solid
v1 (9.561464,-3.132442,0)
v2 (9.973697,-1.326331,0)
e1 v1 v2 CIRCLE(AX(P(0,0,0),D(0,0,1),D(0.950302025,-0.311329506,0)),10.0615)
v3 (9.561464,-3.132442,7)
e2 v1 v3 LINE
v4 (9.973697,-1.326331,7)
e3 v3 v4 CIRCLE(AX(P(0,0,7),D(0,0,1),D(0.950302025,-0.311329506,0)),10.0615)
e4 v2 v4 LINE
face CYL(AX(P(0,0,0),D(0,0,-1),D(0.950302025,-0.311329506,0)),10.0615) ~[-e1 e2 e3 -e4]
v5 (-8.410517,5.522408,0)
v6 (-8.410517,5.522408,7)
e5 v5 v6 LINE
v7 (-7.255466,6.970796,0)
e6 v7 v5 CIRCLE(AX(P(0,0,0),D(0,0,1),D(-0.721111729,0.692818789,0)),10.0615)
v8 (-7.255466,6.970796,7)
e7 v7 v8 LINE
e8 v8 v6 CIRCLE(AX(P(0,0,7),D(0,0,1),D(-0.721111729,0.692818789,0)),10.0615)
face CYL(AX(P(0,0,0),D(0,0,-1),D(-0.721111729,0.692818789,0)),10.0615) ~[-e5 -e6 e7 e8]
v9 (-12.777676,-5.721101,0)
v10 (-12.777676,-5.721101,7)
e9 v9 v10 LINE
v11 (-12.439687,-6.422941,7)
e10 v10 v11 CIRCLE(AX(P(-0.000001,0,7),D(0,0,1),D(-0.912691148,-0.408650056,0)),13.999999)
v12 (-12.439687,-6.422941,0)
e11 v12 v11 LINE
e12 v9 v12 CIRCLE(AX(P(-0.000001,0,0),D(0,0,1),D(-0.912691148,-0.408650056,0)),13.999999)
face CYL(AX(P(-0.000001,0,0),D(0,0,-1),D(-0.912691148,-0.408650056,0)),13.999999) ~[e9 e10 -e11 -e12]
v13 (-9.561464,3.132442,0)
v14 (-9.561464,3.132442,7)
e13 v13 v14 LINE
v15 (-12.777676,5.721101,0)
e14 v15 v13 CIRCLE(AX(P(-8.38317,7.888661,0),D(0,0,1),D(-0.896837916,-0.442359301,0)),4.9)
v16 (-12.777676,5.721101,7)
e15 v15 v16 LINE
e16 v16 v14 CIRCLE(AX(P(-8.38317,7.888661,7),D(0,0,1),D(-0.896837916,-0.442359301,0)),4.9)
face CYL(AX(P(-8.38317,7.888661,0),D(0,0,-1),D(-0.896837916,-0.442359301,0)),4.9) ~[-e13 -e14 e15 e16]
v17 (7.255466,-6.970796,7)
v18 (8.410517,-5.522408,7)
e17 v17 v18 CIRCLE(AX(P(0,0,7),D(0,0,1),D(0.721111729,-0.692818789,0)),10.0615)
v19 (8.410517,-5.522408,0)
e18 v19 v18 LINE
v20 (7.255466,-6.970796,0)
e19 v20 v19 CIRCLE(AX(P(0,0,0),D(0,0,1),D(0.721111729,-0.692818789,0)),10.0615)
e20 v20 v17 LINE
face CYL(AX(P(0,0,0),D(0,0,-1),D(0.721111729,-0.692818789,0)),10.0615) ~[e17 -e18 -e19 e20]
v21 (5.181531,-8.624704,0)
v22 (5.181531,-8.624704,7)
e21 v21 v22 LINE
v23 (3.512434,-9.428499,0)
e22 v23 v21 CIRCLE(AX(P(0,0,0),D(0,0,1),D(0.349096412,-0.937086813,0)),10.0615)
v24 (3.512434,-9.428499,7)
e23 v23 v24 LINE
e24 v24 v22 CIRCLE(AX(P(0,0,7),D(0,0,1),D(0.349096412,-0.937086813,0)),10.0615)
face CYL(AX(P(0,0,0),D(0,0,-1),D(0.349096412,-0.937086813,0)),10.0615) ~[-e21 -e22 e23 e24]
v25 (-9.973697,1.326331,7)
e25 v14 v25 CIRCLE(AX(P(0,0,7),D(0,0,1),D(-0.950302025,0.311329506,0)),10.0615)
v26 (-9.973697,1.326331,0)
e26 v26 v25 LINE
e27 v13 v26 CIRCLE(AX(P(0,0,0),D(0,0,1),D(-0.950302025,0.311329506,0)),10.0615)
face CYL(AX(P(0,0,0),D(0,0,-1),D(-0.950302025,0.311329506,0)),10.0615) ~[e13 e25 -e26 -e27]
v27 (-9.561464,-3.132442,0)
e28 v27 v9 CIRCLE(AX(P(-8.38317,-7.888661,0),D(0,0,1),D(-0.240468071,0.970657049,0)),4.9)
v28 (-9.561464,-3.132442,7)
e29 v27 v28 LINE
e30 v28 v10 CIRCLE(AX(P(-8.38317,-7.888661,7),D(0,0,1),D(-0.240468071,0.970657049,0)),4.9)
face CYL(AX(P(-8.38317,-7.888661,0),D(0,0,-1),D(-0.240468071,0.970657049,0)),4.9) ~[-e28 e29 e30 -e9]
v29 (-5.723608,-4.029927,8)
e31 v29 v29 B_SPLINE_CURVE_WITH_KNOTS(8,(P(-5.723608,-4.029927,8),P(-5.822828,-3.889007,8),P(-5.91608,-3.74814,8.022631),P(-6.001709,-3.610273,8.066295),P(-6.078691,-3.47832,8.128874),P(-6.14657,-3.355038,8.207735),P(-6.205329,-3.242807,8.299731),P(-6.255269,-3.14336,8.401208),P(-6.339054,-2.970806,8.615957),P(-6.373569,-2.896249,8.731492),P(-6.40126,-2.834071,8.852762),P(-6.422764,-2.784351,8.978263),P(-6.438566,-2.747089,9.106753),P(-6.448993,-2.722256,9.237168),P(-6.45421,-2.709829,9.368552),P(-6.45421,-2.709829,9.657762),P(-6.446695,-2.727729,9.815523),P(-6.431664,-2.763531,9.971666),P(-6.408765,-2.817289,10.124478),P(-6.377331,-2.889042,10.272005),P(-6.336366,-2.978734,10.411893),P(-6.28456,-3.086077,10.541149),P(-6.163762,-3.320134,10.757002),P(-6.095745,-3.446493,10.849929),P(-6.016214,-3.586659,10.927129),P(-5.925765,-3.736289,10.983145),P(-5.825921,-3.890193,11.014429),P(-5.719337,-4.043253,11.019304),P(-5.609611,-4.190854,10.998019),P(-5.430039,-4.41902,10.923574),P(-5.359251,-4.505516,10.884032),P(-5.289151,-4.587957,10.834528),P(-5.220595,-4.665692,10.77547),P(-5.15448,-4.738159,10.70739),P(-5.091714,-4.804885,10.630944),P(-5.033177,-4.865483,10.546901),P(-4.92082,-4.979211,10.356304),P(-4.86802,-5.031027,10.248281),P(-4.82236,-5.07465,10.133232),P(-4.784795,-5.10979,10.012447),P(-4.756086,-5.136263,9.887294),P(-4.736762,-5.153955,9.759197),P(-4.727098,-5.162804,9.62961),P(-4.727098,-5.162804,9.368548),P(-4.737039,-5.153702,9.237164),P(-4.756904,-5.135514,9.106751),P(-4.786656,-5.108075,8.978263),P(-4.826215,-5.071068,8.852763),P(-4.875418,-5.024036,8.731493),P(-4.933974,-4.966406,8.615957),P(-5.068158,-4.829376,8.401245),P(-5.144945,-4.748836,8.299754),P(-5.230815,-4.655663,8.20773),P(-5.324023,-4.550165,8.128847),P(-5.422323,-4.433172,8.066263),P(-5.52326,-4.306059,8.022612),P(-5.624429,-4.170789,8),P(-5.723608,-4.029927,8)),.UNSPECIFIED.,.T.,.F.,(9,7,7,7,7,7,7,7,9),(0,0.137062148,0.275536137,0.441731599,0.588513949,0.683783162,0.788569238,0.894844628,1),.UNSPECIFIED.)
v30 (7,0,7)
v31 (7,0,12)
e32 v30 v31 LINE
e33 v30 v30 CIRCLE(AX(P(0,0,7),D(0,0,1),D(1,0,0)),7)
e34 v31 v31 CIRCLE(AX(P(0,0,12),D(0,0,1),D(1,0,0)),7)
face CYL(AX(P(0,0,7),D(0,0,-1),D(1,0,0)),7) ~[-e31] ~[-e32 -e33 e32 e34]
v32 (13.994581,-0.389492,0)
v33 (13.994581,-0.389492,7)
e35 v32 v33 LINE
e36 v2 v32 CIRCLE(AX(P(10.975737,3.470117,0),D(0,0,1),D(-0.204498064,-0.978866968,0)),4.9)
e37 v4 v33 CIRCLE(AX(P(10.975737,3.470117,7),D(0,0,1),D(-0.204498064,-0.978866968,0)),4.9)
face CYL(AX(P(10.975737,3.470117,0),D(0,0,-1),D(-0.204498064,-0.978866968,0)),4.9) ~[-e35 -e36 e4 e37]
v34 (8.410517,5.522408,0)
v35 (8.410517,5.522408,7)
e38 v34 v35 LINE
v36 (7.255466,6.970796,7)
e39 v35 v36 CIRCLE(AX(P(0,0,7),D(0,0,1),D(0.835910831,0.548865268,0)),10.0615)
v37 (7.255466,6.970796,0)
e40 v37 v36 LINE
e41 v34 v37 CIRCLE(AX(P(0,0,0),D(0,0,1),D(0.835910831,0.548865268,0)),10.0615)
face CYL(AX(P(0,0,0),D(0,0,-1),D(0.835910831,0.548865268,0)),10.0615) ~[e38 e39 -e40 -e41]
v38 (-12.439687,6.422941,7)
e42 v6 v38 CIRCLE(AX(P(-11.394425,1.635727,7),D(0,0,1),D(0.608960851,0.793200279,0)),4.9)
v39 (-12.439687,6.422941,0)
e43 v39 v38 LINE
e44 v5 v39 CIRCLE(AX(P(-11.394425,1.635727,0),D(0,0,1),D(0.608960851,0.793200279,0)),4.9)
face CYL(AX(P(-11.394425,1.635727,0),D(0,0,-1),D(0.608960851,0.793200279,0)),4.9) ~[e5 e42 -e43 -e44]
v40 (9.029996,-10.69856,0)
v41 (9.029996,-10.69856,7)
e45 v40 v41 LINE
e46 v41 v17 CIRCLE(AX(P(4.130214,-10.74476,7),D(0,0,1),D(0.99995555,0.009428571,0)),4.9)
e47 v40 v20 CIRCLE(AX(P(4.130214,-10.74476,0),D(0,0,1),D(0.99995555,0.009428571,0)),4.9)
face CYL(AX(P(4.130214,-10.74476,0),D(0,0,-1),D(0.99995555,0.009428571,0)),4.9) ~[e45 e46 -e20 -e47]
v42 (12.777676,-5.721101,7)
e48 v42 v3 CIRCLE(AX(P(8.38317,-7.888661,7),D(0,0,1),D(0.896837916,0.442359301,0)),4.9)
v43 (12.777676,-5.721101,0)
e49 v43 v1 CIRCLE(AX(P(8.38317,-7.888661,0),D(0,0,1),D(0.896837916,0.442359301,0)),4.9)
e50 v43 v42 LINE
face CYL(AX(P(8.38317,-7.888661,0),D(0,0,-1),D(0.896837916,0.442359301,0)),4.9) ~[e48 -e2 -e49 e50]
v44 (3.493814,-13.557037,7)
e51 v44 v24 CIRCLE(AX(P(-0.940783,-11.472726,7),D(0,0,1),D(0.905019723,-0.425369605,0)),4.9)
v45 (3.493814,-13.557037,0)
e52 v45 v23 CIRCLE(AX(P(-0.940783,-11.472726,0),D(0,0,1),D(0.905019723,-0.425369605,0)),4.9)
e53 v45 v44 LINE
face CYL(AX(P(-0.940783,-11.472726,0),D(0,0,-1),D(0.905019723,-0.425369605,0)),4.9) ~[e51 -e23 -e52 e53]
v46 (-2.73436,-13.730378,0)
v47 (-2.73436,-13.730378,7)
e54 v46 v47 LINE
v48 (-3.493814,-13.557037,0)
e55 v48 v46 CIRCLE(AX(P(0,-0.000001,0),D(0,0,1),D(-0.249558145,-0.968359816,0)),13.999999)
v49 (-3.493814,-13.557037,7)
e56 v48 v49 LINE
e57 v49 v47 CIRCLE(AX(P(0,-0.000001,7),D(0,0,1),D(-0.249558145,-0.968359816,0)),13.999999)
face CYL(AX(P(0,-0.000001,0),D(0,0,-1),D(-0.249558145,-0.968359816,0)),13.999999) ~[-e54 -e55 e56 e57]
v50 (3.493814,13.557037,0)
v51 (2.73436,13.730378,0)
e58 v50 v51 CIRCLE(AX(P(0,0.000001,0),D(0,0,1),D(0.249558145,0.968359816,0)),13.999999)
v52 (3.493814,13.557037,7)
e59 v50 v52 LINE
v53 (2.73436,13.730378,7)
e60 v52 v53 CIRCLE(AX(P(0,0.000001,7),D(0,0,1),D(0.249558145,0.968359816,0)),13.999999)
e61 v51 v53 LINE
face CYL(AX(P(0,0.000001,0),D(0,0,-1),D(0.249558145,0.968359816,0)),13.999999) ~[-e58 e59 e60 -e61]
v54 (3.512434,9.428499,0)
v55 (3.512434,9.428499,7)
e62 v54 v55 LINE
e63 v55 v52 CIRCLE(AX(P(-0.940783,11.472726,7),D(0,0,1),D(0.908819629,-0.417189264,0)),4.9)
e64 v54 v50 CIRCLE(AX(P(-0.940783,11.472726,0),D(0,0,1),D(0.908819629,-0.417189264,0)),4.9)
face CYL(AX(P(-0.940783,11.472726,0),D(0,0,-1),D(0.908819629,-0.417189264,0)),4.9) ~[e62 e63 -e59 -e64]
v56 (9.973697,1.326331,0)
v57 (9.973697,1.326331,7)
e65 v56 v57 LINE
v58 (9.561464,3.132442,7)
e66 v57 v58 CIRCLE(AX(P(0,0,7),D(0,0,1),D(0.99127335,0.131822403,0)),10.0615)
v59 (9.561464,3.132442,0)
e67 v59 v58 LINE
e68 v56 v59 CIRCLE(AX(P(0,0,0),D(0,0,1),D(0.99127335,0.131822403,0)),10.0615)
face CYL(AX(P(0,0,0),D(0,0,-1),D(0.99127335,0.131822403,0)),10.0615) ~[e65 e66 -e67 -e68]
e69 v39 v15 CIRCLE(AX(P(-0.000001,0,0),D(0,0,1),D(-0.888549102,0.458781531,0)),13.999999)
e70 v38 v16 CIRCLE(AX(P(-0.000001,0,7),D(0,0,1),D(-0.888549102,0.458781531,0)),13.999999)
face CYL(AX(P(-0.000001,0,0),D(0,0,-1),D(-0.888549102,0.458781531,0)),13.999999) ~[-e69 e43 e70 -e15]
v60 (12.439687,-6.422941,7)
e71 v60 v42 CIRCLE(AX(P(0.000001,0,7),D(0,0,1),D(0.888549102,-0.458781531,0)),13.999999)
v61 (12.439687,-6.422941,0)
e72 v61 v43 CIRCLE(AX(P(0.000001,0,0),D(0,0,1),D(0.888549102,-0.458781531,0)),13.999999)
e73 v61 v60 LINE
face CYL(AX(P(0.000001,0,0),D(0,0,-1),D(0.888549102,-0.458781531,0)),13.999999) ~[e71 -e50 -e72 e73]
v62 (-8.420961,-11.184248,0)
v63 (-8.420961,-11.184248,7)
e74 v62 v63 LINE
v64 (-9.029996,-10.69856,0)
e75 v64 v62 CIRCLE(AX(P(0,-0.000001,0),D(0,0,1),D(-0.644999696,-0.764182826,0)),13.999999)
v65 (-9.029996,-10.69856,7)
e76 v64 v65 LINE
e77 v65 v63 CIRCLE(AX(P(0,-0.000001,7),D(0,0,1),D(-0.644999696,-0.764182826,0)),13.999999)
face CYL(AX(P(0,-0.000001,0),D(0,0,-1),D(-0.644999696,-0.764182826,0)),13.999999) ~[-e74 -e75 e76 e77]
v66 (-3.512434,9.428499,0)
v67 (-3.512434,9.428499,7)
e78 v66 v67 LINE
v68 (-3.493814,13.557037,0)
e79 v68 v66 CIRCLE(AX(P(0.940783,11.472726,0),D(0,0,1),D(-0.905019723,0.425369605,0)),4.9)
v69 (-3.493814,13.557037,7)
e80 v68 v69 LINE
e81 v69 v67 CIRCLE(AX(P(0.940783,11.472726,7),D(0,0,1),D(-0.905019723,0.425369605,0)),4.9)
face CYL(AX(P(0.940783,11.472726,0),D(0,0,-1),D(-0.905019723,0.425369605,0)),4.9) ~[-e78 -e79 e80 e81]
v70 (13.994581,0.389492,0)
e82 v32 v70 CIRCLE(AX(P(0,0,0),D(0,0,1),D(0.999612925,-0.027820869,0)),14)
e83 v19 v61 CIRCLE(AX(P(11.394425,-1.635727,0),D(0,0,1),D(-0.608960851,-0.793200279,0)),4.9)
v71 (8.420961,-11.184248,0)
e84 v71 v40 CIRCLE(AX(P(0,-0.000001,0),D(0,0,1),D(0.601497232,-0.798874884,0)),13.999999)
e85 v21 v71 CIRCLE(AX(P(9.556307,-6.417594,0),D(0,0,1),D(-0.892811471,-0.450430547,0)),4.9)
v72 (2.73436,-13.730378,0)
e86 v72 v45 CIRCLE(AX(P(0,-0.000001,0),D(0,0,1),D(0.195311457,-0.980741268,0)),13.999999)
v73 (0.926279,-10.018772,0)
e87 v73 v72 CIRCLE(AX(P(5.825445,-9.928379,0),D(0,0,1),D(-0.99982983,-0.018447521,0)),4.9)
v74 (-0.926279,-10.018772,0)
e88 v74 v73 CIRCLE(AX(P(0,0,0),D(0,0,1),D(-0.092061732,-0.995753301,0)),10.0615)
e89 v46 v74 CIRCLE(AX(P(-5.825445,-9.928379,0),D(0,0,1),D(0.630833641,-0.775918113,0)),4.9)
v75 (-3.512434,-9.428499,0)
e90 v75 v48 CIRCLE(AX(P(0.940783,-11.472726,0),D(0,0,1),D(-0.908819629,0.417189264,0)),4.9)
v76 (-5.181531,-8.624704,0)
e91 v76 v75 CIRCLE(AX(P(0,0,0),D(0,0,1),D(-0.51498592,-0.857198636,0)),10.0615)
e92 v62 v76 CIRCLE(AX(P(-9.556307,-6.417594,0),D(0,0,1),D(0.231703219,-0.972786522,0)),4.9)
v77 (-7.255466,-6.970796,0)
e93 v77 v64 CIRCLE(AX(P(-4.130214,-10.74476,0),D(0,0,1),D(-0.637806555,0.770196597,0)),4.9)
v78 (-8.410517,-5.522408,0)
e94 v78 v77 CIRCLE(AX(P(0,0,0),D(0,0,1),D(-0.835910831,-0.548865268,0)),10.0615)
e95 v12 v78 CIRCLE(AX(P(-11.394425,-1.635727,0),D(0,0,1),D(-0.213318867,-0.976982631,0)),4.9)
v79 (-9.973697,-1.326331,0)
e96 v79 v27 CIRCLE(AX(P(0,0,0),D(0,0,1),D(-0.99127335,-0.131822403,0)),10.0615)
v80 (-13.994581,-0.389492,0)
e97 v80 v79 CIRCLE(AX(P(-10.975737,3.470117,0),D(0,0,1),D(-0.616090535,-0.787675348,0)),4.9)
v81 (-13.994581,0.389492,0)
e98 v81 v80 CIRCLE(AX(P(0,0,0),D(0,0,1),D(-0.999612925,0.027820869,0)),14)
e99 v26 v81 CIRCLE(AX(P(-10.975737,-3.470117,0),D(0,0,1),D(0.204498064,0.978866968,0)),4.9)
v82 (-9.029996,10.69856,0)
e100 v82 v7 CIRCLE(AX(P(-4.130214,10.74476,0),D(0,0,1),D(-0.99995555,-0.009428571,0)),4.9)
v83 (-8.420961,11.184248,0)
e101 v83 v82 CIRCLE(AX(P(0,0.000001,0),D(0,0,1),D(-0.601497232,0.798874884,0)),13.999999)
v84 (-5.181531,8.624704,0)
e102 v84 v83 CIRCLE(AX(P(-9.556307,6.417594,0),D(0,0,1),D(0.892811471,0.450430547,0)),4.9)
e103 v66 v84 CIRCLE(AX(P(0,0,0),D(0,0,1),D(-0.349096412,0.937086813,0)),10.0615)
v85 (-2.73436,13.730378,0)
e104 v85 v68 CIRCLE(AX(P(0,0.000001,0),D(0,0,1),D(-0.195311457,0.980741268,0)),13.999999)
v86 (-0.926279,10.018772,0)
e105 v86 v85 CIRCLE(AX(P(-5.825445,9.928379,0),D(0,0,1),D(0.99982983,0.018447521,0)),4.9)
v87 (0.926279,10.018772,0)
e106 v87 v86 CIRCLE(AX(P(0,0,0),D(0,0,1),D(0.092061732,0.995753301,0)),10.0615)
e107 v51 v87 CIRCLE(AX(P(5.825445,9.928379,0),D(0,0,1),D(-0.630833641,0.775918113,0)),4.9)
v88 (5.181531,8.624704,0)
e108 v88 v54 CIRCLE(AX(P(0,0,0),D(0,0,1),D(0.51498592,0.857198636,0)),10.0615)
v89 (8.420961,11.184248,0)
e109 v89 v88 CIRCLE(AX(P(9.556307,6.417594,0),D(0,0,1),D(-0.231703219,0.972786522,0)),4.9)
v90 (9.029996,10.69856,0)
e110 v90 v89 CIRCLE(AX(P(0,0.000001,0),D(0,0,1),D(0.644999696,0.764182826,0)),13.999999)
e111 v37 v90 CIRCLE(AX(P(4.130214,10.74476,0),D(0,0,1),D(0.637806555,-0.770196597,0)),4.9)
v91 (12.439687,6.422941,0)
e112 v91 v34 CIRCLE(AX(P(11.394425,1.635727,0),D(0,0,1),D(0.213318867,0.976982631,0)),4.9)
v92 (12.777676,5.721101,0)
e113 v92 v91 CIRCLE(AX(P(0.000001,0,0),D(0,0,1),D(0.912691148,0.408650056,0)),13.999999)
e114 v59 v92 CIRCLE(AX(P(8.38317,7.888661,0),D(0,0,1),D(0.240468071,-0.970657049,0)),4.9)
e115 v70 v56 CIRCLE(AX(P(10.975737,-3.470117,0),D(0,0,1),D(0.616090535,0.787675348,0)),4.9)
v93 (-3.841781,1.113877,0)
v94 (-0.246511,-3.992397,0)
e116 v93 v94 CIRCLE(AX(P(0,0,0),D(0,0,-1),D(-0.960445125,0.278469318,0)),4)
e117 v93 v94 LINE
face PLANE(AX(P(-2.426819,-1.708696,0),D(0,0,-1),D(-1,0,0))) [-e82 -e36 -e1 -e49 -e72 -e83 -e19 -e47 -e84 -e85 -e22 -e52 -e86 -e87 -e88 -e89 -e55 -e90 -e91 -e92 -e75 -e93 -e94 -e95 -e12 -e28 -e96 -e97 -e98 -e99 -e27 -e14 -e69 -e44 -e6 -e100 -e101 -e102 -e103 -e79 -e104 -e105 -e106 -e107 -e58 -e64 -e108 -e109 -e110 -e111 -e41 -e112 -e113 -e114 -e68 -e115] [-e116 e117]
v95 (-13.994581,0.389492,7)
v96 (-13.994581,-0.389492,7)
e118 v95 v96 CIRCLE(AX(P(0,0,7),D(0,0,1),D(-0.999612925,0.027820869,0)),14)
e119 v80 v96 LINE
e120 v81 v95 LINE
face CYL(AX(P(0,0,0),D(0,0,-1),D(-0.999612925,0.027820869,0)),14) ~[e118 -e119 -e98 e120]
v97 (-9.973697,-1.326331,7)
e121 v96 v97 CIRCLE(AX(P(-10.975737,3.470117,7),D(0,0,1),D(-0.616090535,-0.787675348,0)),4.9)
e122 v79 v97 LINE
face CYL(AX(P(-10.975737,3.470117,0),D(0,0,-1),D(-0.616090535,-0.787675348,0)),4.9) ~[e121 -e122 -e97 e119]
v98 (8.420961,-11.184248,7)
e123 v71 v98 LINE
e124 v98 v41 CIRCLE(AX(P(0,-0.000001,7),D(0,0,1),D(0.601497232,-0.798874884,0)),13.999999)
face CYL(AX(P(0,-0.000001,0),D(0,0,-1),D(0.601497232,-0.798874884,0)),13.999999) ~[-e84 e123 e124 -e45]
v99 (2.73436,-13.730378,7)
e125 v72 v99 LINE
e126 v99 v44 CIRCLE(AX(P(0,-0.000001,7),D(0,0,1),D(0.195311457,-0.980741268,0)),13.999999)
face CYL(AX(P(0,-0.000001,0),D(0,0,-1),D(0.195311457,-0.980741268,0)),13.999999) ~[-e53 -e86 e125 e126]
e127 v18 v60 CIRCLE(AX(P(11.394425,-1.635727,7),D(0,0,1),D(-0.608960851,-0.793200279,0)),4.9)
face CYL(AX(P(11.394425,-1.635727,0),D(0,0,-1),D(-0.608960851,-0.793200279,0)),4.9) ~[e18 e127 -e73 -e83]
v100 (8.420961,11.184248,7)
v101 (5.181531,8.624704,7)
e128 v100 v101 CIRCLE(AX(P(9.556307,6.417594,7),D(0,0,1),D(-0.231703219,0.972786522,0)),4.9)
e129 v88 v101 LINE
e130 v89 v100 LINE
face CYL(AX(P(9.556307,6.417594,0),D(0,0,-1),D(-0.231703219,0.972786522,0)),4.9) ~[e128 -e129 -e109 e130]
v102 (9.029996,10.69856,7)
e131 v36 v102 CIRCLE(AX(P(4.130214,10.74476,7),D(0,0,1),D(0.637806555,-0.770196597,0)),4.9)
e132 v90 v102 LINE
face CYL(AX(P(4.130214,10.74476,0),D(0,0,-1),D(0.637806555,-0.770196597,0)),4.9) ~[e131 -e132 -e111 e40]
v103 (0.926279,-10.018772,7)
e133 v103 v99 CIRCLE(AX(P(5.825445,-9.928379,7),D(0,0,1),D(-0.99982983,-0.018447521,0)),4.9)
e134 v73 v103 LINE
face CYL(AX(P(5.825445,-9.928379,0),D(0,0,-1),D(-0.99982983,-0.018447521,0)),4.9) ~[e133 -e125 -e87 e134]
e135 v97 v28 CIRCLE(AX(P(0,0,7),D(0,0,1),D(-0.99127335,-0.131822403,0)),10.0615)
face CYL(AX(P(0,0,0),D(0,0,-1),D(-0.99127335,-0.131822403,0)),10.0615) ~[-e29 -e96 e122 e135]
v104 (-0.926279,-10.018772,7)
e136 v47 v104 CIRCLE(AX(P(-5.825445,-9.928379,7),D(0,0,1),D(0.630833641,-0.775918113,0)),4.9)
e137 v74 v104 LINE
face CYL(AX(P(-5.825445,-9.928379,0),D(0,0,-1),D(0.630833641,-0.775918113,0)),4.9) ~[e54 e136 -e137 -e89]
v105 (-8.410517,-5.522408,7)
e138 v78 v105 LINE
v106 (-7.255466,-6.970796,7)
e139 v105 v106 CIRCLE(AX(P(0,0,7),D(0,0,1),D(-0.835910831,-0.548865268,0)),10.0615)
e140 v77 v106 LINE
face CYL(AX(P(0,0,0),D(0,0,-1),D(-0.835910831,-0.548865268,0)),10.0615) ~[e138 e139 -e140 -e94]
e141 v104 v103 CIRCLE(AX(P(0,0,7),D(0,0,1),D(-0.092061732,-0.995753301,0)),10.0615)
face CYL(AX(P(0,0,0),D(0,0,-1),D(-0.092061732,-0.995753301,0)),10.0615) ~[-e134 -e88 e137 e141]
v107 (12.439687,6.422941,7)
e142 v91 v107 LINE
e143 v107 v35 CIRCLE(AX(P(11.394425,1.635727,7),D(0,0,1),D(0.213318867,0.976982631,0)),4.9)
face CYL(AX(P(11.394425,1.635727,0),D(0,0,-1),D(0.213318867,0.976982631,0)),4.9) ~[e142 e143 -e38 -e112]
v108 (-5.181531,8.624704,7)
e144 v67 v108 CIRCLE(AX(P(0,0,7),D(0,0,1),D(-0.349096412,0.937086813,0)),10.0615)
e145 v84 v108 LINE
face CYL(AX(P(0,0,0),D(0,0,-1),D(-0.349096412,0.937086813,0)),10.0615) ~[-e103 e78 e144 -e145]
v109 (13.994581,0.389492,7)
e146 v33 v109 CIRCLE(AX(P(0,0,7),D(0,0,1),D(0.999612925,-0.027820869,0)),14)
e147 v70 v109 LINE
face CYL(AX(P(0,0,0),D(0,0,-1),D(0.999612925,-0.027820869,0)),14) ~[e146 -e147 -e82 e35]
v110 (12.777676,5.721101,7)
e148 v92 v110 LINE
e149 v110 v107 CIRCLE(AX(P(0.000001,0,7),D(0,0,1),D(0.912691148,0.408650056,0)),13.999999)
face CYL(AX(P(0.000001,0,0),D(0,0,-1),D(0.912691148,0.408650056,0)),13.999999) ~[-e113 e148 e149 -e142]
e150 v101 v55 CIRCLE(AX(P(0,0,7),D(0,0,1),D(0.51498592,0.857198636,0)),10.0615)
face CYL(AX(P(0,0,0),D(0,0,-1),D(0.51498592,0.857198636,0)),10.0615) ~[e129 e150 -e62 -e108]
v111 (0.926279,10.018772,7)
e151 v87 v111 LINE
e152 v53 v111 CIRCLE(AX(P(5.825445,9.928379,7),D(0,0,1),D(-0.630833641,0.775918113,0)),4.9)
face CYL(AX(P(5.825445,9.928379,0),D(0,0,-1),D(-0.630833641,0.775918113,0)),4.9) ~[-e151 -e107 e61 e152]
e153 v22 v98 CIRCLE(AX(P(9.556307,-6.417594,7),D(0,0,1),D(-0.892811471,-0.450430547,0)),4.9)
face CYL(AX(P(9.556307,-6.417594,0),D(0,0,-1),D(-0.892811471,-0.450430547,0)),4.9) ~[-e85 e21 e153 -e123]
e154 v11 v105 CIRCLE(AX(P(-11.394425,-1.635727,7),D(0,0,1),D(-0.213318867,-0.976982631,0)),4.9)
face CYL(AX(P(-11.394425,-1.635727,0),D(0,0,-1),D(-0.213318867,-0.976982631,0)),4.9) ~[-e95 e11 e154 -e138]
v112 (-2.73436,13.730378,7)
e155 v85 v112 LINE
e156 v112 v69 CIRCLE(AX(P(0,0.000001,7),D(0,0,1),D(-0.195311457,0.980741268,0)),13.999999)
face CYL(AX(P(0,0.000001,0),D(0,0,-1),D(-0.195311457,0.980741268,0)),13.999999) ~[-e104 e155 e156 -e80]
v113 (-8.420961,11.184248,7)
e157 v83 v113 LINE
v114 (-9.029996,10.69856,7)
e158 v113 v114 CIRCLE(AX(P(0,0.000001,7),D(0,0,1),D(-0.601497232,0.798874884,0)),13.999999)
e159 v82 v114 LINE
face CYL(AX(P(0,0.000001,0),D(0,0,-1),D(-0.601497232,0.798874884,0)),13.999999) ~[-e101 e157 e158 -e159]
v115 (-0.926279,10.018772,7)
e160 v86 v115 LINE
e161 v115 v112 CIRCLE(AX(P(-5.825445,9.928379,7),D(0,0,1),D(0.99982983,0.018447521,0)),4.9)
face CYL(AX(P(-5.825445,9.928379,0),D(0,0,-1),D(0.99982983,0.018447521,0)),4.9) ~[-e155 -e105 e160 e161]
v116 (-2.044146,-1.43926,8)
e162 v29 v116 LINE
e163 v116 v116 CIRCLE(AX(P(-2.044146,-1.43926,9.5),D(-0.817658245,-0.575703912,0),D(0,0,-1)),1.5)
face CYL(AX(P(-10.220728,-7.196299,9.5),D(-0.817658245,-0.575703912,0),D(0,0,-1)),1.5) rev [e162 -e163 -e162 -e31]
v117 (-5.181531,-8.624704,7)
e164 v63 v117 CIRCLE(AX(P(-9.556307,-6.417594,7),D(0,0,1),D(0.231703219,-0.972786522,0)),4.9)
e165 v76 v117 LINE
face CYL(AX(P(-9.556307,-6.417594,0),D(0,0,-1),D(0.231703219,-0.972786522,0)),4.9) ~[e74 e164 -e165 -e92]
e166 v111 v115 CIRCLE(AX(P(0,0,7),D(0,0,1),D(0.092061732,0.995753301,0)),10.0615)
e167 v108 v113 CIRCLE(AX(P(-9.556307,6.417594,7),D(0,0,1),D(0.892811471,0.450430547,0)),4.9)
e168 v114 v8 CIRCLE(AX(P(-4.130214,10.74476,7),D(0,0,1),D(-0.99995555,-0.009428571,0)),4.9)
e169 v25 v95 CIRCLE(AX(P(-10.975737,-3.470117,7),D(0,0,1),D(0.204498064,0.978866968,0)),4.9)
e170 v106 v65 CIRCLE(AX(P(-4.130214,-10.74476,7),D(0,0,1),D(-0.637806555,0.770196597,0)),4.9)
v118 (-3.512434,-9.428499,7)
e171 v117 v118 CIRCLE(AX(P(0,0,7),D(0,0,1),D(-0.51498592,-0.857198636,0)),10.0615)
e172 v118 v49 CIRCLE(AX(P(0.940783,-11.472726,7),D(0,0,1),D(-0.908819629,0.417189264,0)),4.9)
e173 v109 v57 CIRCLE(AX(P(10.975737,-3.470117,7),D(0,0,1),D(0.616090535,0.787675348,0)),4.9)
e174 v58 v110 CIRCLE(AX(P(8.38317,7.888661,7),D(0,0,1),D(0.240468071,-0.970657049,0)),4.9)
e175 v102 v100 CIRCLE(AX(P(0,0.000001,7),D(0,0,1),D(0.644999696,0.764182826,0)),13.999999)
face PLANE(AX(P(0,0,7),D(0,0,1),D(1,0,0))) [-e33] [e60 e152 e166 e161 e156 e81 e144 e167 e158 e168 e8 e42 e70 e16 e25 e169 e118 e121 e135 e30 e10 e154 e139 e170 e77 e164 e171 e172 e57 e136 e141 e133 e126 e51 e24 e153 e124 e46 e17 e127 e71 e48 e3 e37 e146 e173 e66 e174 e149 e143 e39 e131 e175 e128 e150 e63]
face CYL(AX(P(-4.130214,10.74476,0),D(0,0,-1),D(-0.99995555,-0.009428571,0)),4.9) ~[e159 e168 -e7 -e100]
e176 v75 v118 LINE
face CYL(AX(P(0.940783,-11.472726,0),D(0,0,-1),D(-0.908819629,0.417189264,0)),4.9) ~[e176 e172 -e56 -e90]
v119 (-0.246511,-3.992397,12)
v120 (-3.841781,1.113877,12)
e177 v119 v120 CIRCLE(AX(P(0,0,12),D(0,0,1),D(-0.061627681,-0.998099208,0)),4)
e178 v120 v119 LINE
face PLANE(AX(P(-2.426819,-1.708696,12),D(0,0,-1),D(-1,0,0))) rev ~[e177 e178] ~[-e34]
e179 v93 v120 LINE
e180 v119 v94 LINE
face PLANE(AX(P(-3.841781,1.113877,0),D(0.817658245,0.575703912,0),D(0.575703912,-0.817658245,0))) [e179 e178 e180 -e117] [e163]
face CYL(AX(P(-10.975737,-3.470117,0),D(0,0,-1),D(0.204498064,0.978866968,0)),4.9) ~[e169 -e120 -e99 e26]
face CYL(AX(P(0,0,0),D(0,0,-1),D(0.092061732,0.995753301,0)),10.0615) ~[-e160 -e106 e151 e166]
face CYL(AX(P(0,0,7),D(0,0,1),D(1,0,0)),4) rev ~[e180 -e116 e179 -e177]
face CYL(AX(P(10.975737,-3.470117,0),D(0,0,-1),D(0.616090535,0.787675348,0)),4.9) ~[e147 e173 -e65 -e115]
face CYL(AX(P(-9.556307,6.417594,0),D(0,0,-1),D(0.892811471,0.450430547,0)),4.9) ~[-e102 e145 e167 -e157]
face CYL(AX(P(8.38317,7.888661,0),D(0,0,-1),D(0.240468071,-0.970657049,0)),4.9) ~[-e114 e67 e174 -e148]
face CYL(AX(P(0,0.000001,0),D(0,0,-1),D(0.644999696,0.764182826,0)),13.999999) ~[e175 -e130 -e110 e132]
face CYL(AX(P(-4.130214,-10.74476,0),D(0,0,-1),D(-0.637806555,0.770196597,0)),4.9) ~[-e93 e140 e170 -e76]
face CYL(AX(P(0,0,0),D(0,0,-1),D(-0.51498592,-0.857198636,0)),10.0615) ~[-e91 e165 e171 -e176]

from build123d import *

# Parameters (mm, degrees)
BOSS_EXTRUDE1_DEPTH = 7
SKETCH2_R           = 7
SKETCH2_R_2         = 4
BOSS_EXTRUDE2_DEPTH = 5
SKETCH3_R           = 4
CUT_EXTRUDE1_DEPTH  = 15
BOSS_EXTRUDE3_DEPTH = 12
SKETCH5_R           = 1.5
CUT_EXTRUDE2_DEPTH  = 12


with BuildPart() as part:
    # Sketch1 → Boss-Extrude1 (new body)
    with BuildSketch(Plane.XY):
        with BuildLine():
            ThreePointArc((-12.439687438, -6.422941417), (-10.325628022, -6.417742109), (-8.410516827, -5.522407894))
            ThreePointArc((-8.410516827, -5.522407894), (-7.866397461, -6.273242641), (-7.255465658, -6.970796248))
            ThreePointArc((-7.255465658, -6.970796248), (-8.554504306, -8.638661002), (-9.029995733, -10.698559579))
            ThreePointArc((-9.029995733, -10.698559579), (-8.728857226, -10.945640755), (-8.42096127, -11.184248356))
            ThreePointArc((-8.42096127, -11.184248356), (-6.518515447, -10.262307937), (-5.181530838, -8.624704077))
            ThreePointArc((-5.181530838, -8.624704077), (-4.365521241, -9.065098264), (-3.512433539, -9.428498973))
            ThreePointArc((-3.512433539, -9.428498973), (-3.959167524, -11.494824938), (-3.493813999, -13.557037425))
            ThreePointArc((-3.493813999, -13.557037425), (-3.115293075, -13.648990771), (-2.734360446, -13.730377742))
            ThreePointArc((-2.734360446, -13.730377742), (-1.420330943, -12.07429782), (-0.926279119, -10.018771843))
            ThreePointArc((-0.926279119, -10.018771843), (0, -10.0615), (0.926279119, -10.018771843))
            ThreePointArc((0.926279119, -10.018771843), (1.420330943, -12.07429782), (2.734360446, -13.730377742))
            ThreePointArc((2.734360446, -13.730377742), (3.115293075, -13.648990771), (3.493813999, -13.557037425))
            ThreePointArc((3.493813999, -13.557037425), (3.959167524, -11.494824938), (3.512433539, -9.428498973))
            ThreePointArc((3.512433539, -9.428498973), (4.365521241, -9.065098264), (5.181530838, -8.624704077))
            ThreePointArc((5.181530838, -8.624704077), (6.518515447, -10.262307937), (8.42096127, -11.184248356))
            ThreePointArc((8.42096127, -11.184248356), (8.728857226, -10.945640755), (9.029995733, -10.698559579))
            ThreePointArc((9.029995733, -10.698559579), (8.554504306, -8.638661002), (7.255465658, -6.970796248))
            ThreePointArc((7.255465658, -6.970796248), (7.866397461, -6.273242641), (8.410516827, -5.522407894))
            ThreePointArc((8.410516827, -5.522407894), (10.325628022, -6.417742109), (12.439687438, -6.422941417))
            ThreePointArc((12.439687438, -6.422941417), (12.613564151, -6.074372348), (12.777676066, -5.7211008))
            ThreePointArc((12.777676066, -5.7211008), (11.455516597, -4.071504309), (9.561463821, -3.132441835))
            ThreePointArc((9.561463821, -3.132441835), (9.809237188, -2.238894377), (9.97369681, -1.3263311))
            ThreePointArc((9.97369681, -1.3263311), (12.087623332, -1.302063747), (13.994580946, -0.389492158))
            ThreePointArc((13.994580946, -0.389492158), (14, 0), (13.994580946, 0.389492158))
            ThreePointArc((13.994580946, 0.389492158), (12.087623332, 1.302063747), (9.97369681, 1.3263311))
            ThreePointArc((9.97369681, 1.3263311), (9.809237188, 2.238894377), (9.561463821, 3.132441835))
            ThreePointArc((9.561463821, 3.132441835), (11.455516597, 4.071504309), (12.777676066, 5.7211008))
            ThreePointArc((12.777676066, 5.7211008), (12.613564151, 6.074372348), (12.439687438, 6.422941417))
            ThreePointArc((12.439687438, 6.422941417), (10.325628022, 6.417742109), (8.410516827, 5.522407894))
            ThreePointArc((8.410516827, 5.522407894), (7.866397461, 6.273242641), (7.255465658, 6.970796248))
            ThreePointArc((7.255465658, 6.970796248), (8.554504306, 8.638661002), (9.029995733, 10.698559579))
            ThreePointArc((9.029995733, 10.698559579), (8.728857226, 10.945640755), (8.42096127, 11.184248356))
            ThreePointArc((8.42096127, 11.184248356), (6.518515447, 10.262307937), (5.181530838, 8.624704077))
            ThreePointArc((5.181530838, 8.624704077), (4.365521241, 9.065098264), (3.512433539, 9.428498973))
            ThreePointArc((3.512433539, 9.428498973), (3.959167524, 11.494824938), (3.493813999, 13.557037425))
            ThreePointArc((3.493813999, 13.557037425), (3.115293075, 13.648990771), (2.734360446, 13.730377742))
            ThreePointArc((2.734360446, 13.730377742), (1.420330943, 12.07429782), (0.926279119, 10.018771843))
            ThreePointArc((0.926279119, 10.018771843), (0, 10.0615), (-0.926279119, 10.018771843))
            ThreePointArc((-0.926279119, 10.018771843), (-1.420330943, 12.07429782), (-2.734360446, 13.730377742))
            ThreePointArc((-2.734360446, 13.730377742), (-3.115293075, 13.648990771), (-3.493813999, 13.557037425))
            ThreePointArc((-3.493813999, 13.557037425), (-3.959167524, 11.494824938), (-3.512433539, 9.428498973))
            ThreePointArc((-3.512433539, 9.428498973), (-4.365521241, 9.065098264), (-5.181530838, 8.624704077))
            ThreePointArc((-5.181530838, 8.624704077), (-6.518515447, 10.262307937), (-8.42096127, 11.184248356))
            ThreePointArc((-8.42096127, 11.184248356), (-8.728857226, 10.945640755), (-9.029995733, 10.698559579))
            ThreePointArc((-9.029995733, 10.698559579), (-8.554504306, 8.638661002), (-7.255465658, 6.970796248))
            ThreePointArc((-7.255465658, 6.970796248), (-7.866397461, 6.273242641), (-8.410516827, 5.522407894))
            ThreePointArc((-8.410516827, 5.522407894), (-10.325628022, 6.417742109), (-12.439687438, 6.422941417))
            ThreePointArc((-12.439687438, 6.422941417), (-12.613564151, 6.074372348), (-12.777676066, 5.7211008))
            ThreePointArc((-12.777676066, 5.7211008), (-11.455516597, 4.071504309), (-9.561463821, 3.132441835))
            ThreePointArc((-9.561463821, 3.132441835), (-9.809237188, 2.238894377), (-9.97369681, 1.3263311))
            ThreePointArc((-9.97369681, 1.3263311), (-12.087623332, 1.302063747), (-13.994580946, 0.389492158))
            ThreePointArc((-13.994580946, 0.389492158), (-14, 0), (-13.994580946, -0.389492158))
            ThreePointArc((-13.994580946, -0.389492158), (-12.087623332, -1.302063747), (-9.97369681, -1.3263311))
            ThreePointArc((-9.97369681, -1.3263311), (-9.809237188, -2.238894377), (-9.561463821, -3.132441835))
            ThreePointArc((-9.561463821, -3.132441835), (-11.455516597, -4.071504309), (-12.777676066, -5.7211008))
            ThreePointArc((-12.777676066, -5.7211008), (-12.613564151, -6.074372348), (-12.439687438, -6.422941417))
        make_face()
    extrude(amount=BOSS_EXTRUDE1_DEPTH)

    # Sketch2 → Boss-Extrude2 (add)
    with BuildSketch(Plane.XY.offset(7)):
        Circle(SKETCH2_R)
        Circle(SKETCH2_R_2, mode=Mode.SUBTRACT)
    extrude(amount=BOSS_EXTRUDE2_DEPTH)

    # Sketch3 → Cut-Extrude1 (cut)
    with BuildSketch(Plane.XY.offset(7)):
        Circle(SKETCH3_R)
    extrude(amount=-CUT_EXTRUDE1_DEPTH, mode=Mode.SUBTRACT)

    # Sketch4 → Boss-Extrude3 (add)
    with BuildSketch(Plane(origin=(0, 0, 0), x_dir=(-1, 0, 0), z_dir=(0, 0, -1))):
        with BuildLine():
            Line((3.841780502, 1.113877271), (0.246510723, -3.992396832))
            ThreePointArc((0.246510723, -3.992396832), (3.27063298, -2.302815648), (3.841780502, 1.113877271))
        make_face()
    extrude(amount=-BOSS_EXTRUDE3_DEPTH)

    # Sketch5 → Cut-Extrude2 (cut)
    with BuildSketch(Plane(origin=(-10.220728062, -7.196298901, 0), x_dir=(0, 0, -1), z_dir=(0.817658245, 0.575703912, 0))):
        with Locations((-9.5, 0)):
            Circle(SKETCH5_R)
    extrude(amount=CUT_EXTRUDE2_DEPTH, mode=Mode.SUBTRACT)


solid = part.part
